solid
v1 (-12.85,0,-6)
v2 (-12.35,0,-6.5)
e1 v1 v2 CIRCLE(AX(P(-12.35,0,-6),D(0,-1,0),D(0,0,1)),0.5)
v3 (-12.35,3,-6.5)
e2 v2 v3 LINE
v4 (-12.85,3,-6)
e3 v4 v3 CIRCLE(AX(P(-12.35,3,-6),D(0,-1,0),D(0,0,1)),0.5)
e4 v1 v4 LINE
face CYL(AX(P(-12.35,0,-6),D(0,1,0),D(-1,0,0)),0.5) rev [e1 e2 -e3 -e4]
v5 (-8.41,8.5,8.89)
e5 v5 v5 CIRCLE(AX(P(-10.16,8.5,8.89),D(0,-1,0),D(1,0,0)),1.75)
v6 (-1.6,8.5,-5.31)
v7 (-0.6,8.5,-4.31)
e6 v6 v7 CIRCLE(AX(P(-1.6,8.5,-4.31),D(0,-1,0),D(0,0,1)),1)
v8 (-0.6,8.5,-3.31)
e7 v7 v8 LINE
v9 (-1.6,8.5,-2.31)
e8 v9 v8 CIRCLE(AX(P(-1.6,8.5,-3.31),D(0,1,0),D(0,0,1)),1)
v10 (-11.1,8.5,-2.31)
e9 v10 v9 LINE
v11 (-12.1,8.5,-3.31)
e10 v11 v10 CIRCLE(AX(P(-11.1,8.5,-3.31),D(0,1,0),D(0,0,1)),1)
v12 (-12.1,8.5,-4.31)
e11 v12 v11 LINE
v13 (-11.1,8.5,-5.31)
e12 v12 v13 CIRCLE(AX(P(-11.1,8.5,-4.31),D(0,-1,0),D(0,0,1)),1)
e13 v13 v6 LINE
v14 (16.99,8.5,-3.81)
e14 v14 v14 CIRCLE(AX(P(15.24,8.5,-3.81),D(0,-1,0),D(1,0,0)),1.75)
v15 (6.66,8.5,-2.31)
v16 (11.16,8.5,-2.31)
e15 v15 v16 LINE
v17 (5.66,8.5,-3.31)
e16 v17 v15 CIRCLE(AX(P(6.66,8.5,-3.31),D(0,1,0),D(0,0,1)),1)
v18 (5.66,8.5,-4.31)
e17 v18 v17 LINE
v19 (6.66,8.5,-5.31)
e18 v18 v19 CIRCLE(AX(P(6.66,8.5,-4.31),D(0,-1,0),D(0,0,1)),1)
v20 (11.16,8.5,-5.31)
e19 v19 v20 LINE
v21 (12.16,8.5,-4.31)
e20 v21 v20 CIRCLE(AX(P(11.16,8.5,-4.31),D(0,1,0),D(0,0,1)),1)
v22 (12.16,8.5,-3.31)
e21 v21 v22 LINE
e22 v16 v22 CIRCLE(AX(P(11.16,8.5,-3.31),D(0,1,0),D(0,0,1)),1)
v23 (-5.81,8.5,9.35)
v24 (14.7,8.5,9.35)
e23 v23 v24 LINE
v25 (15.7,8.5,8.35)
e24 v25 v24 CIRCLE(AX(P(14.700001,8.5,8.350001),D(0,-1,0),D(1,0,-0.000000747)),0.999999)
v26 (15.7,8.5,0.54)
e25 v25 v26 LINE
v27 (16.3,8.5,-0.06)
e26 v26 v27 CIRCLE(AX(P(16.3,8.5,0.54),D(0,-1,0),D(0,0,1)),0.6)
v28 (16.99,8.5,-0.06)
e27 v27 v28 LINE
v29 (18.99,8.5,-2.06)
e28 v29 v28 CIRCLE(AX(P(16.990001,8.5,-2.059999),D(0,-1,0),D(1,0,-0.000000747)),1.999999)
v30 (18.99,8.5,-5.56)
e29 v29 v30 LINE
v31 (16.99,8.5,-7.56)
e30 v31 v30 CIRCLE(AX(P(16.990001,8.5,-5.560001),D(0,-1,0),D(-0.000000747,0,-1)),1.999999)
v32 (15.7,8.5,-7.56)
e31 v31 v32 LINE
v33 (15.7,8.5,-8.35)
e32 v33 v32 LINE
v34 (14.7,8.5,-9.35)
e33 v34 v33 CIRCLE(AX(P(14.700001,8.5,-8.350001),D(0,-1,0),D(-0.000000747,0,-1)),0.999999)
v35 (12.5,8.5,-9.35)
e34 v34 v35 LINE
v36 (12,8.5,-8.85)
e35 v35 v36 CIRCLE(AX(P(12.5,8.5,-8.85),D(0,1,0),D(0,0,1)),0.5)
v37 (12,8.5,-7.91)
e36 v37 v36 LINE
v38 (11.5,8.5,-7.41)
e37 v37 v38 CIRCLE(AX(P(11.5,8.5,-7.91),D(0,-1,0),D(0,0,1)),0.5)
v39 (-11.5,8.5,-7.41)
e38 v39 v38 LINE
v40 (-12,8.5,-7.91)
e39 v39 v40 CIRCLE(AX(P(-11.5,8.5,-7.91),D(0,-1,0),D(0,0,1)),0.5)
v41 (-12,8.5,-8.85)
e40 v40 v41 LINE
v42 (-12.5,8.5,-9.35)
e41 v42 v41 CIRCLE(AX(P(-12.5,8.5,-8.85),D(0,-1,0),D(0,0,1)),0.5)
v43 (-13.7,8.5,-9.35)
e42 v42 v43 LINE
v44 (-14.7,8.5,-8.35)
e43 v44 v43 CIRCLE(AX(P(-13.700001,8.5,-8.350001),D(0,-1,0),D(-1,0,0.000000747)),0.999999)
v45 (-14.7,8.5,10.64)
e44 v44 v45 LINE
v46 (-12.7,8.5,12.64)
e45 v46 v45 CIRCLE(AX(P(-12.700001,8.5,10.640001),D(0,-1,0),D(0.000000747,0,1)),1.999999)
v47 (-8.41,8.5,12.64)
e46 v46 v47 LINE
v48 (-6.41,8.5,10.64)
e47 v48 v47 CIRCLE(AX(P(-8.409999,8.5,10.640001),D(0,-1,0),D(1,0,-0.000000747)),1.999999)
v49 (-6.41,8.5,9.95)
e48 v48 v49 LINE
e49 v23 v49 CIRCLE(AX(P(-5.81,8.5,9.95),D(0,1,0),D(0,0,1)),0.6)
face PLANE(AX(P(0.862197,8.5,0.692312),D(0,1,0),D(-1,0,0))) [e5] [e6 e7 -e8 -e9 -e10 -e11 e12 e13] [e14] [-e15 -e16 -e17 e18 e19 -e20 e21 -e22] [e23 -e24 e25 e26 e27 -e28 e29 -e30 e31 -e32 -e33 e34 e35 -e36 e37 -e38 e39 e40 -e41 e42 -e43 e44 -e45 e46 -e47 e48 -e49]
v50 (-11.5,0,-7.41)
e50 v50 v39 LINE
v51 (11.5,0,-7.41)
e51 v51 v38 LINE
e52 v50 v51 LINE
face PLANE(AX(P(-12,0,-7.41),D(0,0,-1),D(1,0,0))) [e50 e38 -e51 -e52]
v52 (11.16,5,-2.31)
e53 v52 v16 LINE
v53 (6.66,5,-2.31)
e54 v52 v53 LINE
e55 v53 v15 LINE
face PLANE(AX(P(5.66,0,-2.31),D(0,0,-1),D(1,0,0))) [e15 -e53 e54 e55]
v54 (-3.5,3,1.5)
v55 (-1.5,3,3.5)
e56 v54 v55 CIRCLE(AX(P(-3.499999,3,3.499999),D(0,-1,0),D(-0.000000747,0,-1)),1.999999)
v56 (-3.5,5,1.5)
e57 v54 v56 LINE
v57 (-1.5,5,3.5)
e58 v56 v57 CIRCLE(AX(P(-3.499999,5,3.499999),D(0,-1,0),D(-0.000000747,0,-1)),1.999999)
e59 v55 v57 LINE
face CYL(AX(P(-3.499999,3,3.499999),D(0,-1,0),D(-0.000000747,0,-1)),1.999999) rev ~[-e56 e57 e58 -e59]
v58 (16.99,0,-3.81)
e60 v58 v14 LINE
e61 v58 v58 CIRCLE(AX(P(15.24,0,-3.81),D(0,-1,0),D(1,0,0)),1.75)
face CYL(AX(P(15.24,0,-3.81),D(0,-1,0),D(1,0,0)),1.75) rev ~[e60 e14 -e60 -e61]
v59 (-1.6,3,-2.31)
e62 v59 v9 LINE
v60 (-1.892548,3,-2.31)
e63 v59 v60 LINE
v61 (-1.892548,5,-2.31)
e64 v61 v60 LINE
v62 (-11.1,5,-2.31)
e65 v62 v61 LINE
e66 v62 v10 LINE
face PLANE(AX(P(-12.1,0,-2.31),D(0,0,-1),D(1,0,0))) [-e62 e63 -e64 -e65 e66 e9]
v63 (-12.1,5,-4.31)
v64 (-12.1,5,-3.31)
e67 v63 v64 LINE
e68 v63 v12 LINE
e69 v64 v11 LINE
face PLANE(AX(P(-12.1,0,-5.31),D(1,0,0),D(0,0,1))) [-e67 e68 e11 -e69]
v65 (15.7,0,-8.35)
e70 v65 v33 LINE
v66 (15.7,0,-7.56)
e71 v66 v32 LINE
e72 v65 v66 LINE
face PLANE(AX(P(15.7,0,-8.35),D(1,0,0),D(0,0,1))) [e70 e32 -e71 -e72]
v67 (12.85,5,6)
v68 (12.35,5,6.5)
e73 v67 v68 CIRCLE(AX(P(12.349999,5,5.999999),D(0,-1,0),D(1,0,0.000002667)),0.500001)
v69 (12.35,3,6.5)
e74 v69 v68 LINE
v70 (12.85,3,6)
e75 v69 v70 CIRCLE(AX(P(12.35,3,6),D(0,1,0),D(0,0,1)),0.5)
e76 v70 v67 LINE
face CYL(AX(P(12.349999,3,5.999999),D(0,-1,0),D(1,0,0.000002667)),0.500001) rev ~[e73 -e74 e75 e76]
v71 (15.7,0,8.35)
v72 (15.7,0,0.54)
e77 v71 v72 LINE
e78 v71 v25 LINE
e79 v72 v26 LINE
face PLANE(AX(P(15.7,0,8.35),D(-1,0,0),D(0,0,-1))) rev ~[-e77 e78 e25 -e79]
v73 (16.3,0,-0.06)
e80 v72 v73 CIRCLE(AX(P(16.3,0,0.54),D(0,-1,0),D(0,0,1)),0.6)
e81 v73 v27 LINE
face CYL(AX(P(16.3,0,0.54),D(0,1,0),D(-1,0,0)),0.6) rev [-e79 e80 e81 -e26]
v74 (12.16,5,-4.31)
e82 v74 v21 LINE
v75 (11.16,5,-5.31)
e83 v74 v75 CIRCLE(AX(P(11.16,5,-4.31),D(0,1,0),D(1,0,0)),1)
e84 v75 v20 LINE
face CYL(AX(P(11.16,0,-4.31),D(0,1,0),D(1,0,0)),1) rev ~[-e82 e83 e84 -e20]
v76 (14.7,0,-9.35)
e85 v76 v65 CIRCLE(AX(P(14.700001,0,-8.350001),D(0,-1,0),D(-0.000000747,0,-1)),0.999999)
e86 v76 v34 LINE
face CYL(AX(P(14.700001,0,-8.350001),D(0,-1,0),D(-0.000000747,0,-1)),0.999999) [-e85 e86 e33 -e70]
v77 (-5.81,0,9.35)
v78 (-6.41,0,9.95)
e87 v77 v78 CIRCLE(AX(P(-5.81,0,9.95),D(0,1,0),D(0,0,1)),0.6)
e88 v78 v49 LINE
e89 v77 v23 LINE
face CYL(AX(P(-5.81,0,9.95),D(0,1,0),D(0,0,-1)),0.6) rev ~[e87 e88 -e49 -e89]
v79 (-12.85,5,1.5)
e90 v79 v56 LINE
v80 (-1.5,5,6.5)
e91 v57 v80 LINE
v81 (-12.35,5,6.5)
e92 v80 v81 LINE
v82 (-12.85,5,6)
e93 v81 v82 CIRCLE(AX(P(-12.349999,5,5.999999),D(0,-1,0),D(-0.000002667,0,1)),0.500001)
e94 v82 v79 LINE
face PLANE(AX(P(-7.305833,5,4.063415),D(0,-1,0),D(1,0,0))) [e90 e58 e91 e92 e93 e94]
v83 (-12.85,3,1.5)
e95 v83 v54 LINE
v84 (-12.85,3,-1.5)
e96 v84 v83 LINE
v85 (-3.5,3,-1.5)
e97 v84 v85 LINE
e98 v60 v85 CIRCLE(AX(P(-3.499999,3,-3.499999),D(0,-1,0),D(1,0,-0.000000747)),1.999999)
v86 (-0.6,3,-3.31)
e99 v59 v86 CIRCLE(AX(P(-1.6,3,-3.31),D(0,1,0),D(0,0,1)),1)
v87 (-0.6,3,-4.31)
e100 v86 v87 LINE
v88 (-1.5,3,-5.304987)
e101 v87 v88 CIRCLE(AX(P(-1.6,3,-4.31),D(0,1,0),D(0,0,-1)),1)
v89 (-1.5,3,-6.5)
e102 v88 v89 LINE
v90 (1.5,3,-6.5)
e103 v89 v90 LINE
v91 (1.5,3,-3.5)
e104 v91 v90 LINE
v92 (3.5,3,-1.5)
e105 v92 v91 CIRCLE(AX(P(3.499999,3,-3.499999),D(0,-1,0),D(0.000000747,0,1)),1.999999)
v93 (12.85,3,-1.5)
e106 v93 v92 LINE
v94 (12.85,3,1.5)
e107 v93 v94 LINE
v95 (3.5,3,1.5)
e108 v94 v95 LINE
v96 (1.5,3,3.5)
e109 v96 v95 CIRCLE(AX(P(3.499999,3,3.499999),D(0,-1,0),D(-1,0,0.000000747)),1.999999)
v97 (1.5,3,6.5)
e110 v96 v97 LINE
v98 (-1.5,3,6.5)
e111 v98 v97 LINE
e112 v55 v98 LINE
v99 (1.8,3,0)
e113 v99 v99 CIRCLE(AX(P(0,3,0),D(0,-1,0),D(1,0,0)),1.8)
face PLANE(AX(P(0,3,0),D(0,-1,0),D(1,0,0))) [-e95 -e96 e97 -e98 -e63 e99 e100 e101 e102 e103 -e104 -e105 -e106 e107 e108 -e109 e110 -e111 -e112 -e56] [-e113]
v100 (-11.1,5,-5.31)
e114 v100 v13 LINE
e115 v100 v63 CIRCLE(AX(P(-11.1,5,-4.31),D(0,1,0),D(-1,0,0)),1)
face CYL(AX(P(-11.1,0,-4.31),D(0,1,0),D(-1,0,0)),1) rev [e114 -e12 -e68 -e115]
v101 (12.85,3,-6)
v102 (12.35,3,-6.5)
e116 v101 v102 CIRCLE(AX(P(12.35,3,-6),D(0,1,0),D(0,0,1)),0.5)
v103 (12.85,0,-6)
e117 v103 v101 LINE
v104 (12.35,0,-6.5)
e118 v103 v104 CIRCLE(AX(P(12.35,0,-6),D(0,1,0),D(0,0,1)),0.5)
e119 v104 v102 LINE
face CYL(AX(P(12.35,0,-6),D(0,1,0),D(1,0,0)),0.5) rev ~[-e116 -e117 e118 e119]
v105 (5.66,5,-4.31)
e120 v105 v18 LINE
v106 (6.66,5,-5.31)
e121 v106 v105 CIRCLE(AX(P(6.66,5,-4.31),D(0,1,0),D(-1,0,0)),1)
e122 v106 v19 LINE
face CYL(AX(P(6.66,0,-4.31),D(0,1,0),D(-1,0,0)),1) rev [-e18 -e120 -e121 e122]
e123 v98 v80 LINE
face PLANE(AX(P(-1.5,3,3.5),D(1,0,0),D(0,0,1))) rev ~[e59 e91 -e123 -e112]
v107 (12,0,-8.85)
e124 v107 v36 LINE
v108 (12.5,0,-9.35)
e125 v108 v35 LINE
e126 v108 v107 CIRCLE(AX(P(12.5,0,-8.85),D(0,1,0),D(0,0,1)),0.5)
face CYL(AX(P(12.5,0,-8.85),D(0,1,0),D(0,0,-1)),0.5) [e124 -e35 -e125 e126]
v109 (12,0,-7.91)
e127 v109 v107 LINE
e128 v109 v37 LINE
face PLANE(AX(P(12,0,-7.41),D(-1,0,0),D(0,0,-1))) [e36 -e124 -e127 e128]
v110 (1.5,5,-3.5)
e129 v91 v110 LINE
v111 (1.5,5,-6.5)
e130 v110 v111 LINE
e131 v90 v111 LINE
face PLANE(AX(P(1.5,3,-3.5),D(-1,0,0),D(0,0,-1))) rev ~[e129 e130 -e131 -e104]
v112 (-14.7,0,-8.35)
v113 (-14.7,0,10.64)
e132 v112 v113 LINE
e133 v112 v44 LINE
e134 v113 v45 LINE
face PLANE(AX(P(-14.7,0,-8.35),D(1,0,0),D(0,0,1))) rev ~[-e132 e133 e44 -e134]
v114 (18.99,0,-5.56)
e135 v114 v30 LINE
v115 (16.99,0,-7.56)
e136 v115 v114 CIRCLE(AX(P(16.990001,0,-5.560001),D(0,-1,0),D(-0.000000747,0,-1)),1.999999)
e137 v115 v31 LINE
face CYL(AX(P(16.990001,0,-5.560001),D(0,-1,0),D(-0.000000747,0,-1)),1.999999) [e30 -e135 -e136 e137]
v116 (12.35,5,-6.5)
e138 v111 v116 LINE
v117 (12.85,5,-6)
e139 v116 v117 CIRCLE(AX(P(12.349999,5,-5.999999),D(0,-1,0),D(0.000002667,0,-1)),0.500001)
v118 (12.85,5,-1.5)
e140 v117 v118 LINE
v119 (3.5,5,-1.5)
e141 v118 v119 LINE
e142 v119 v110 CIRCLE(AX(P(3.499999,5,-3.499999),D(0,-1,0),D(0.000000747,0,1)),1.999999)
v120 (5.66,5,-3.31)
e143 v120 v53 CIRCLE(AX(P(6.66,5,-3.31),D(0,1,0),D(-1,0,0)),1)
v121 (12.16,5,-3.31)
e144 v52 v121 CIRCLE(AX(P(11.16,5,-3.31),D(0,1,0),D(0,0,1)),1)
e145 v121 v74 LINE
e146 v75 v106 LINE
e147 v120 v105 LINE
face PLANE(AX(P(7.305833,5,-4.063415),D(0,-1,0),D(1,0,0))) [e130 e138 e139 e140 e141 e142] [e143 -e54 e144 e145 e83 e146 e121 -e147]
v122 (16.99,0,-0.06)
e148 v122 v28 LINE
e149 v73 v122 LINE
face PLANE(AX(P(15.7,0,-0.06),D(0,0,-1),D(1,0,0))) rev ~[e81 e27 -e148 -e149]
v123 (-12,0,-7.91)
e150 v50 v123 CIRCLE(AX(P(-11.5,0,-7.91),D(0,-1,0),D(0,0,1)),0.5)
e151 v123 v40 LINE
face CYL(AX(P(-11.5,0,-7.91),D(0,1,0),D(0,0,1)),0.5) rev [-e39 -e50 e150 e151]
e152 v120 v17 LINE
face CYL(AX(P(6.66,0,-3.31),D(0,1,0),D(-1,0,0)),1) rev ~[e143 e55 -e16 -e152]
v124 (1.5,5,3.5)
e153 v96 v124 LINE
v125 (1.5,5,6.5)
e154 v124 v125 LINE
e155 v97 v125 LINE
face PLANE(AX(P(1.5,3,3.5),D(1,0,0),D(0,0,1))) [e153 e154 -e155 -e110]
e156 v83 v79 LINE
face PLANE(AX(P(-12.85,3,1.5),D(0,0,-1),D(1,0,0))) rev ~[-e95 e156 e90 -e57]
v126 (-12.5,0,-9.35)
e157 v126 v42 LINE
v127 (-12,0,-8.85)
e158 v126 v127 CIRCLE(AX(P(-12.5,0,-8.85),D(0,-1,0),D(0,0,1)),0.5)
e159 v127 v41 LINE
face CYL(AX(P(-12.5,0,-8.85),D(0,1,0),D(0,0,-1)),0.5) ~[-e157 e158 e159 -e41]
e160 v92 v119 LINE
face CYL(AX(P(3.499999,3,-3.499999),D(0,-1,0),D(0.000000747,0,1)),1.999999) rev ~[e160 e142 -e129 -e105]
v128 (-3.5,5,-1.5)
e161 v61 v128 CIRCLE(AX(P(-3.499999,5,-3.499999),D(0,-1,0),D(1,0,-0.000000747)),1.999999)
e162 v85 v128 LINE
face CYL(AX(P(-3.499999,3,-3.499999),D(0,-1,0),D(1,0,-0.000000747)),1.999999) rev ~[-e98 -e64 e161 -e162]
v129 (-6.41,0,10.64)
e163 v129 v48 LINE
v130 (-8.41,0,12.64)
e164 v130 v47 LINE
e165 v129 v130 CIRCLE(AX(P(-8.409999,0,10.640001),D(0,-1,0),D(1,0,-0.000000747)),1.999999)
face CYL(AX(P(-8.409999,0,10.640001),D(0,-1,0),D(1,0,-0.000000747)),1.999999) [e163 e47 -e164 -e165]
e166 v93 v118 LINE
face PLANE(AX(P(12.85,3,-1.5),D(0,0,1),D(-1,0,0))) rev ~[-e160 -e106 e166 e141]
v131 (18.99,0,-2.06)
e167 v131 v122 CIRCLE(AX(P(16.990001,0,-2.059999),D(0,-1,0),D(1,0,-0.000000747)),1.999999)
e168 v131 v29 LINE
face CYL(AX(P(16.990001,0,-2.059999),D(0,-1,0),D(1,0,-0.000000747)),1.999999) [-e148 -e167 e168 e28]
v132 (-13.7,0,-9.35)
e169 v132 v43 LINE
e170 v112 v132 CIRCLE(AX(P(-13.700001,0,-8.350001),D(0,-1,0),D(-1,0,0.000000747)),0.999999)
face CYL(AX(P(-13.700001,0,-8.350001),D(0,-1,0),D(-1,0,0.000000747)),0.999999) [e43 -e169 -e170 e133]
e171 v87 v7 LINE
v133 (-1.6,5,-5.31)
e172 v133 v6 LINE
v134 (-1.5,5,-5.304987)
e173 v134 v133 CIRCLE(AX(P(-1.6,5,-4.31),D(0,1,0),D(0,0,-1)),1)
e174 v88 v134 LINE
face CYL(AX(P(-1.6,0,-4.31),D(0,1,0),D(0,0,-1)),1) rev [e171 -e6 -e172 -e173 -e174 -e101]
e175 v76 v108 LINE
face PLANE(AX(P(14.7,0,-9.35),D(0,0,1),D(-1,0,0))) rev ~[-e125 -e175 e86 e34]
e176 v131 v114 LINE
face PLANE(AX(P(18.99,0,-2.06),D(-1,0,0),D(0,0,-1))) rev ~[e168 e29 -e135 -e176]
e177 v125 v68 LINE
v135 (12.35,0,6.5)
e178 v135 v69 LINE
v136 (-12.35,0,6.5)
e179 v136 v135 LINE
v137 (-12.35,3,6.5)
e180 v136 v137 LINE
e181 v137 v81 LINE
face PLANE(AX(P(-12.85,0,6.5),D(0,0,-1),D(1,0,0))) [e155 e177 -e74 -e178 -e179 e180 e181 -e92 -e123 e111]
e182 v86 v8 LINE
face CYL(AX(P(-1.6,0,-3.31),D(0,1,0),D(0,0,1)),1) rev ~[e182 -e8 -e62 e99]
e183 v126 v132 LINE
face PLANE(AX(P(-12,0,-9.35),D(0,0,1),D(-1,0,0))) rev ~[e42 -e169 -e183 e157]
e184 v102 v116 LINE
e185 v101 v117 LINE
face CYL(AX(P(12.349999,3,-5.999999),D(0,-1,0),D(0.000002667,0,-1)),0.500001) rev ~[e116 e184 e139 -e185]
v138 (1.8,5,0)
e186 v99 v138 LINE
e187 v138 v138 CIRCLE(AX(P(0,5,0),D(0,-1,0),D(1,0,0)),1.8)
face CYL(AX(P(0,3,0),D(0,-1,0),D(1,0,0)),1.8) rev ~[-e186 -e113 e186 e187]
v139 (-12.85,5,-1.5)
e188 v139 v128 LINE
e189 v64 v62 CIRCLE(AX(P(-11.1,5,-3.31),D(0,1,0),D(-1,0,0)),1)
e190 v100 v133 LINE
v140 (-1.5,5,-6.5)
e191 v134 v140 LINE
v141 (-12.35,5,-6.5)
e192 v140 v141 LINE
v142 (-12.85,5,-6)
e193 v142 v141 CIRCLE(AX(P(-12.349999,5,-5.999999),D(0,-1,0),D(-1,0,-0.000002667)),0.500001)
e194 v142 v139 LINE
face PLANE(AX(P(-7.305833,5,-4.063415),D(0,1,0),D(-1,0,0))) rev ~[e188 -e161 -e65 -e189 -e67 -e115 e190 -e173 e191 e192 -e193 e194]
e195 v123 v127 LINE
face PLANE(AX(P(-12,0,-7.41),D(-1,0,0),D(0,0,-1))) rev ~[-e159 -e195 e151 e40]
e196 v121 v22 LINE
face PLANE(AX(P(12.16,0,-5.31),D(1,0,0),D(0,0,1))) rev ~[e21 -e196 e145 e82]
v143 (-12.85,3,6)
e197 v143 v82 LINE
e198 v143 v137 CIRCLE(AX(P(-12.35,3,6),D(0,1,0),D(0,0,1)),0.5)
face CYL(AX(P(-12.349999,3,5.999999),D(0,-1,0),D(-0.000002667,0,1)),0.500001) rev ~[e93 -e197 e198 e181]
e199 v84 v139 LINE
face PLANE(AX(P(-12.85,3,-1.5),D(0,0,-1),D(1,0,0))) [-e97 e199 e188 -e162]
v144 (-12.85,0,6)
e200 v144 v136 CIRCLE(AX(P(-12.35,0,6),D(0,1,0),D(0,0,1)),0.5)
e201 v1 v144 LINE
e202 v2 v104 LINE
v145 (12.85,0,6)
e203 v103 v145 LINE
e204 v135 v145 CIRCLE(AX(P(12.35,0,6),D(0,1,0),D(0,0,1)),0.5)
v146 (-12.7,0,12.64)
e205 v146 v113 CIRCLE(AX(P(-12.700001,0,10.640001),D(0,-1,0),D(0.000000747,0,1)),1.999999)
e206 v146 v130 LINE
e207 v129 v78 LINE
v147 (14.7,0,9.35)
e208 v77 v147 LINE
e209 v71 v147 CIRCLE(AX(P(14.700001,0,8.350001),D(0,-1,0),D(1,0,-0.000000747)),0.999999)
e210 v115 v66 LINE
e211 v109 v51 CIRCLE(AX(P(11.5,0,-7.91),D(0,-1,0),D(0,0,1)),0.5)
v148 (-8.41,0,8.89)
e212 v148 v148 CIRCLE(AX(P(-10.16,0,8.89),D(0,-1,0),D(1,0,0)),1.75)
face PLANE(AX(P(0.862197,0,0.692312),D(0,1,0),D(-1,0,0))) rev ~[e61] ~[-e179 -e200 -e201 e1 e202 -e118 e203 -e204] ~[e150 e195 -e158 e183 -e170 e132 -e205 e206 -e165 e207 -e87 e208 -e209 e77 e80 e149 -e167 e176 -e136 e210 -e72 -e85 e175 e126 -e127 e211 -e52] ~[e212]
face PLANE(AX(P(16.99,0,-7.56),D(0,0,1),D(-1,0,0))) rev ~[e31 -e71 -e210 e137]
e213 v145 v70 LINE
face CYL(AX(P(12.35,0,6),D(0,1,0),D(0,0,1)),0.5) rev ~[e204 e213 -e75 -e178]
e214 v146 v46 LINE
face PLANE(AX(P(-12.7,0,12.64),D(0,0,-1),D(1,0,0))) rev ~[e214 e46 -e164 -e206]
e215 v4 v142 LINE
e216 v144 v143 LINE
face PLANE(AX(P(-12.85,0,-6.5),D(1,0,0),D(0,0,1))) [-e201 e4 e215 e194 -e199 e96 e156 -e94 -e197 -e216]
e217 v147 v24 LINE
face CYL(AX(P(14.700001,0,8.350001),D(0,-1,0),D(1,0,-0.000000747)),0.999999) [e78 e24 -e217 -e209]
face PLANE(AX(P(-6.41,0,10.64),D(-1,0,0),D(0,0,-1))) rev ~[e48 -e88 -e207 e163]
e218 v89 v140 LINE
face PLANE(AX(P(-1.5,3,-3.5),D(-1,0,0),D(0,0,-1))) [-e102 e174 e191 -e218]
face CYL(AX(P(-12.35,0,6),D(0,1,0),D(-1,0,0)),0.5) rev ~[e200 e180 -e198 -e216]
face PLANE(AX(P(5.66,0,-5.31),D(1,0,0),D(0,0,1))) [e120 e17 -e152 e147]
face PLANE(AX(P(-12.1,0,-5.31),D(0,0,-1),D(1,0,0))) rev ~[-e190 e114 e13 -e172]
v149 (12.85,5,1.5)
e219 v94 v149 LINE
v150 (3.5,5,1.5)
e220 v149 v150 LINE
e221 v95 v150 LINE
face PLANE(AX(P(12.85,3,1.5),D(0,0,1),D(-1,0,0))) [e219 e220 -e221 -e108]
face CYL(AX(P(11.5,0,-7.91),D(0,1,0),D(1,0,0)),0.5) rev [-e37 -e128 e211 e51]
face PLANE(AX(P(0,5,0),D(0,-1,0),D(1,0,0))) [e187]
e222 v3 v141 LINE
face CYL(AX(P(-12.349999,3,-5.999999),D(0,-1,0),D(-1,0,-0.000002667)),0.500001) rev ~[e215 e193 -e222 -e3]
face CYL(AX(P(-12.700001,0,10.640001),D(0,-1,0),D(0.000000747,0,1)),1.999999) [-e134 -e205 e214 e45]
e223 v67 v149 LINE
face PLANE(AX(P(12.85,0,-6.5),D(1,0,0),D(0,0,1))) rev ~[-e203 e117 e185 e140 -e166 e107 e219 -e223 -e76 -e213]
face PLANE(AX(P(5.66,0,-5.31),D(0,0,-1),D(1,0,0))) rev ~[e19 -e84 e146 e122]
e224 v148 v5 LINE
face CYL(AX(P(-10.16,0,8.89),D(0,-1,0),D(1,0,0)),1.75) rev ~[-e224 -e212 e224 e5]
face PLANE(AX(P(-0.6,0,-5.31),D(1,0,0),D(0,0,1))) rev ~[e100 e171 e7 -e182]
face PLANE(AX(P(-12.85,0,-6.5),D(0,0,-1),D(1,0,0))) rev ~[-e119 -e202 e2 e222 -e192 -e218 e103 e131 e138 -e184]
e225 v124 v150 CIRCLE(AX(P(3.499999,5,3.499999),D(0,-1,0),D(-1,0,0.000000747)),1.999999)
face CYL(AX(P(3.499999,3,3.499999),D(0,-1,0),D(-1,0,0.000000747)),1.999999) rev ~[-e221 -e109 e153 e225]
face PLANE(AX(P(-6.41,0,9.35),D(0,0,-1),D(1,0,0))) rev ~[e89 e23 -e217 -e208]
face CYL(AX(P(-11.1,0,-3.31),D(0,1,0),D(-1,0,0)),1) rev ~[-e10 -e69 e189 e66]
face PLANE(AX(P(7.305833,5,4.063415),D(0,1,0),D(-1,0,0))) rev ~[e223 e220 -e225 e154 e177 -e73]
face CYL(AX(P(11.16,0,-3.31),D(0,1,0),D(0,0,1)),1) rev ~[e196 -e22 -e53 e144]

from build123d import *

# Parameters (mm, degrees)
SKETCH004_R     = 1.75
SKETCH004_W     = 11.5
SKETCH004_H     = 3
SKETCH004_W_2   = 6.5
PAD_DEPTH       = 8.5
FILLET_R        = 1
FILLET001_R     = 0.6
FILLET002_R     = 0.5
SKETCH_W        = 25.7
SKETCH_H        = 13
POCKET_DEPTH    = 3
FILLET003_R     = 0.5
SKETCH005_R     = 1.8
POCKET001_DEPTH = 2


with BuildPart() as part:
    # Sketch004 → Pad (new body)
    with BuildSketch(Plane.XZ):
        with BuildLine():
            Line((15.7, 8.35), (15.7, -0.06))
            Line((15.7, -0.06), (16.99, -0.06))
            ThreePointArc((18.99, -2.06), (18.404214, -0.645786), (16.99, -0.06))
            Line((18.99, -2.06), (18.99, -5.56))
            ThreePointArc((16.99, -7.56), (18.404214, -6.974214), (18.99, -5.56))
            Line((16.99, -7.56), (15.7, -7.56))
            Line((15.7, -8.35), (15.7, -7.56))
            ThreePointArc((14.7, -9.35), (15.407107, -9.057107), (15.7, -8.35))
            Line((14.7, -9.35), (12, -9.35))
            Line((12, -7.41), (12, -9.35))
            Line((-12, -7.41), (12, -7.41))
            Line((-12, -7.41), (-12, -9.35))
            Line((-12, -9.35), (-13.7, -9.35))
            ThreePointArc((-14.7, -8.35), (-14.407107, -9.057107), (-13.7, -9.35))
            Line((-14.7, -8.35), (-14.7, 10.64))
            ThreePointArc((-12.7, 12.64), (-14.114214, 12.054214), (-14.7, 10.64))
            Line((-12.7, 12.64), (-8.41, 12.64))
            ThreePointArc((-6.41, 10.64), (-6.995786, 12.054214), (-8.41, 12.64))
            Line((-6.41, 10.64), (-6.41, 9.35))
            Line((-6.41, 9.35), (14.7, 9.35))
            ThreePointArc((15.7, 8.35), (15.407107, 9.057107), (14.7, 9.35))
        make_face()
        with Locations((-10.16, 8.89)):
            Circle(SKETCH004_R, mode=Mode.SUBTRACT)
        with Locations((15.24, -3.81)):
            Circle(SKETCH004_R, mode=Mode.SUBTRACT)
        with Locations((-6.35, -3.81)):
            Rectangle(SKETCH004_W, SKETCH004_H, mode=Mode.SUBTRACT)
        with Locations((8.91, -3.81)):
            Rectangle(SKETCH004_W_2, SKETCH004_H, mode=Mode.SUBTRACT)
    extrude(amount=-PAD_DEPTH)

    # Fillet
    fillet_edges = [part.edges().sort_by_distance(p)[0] for p in [
        (12.16, 4.25, -5.31),
        (5.66, 4.25, -2.31),
        (12.16, 4.25, -2.31),
        (5.66, 4.25, -5.31),
        (-0.6, 4.25, -2.31),
        (-12.1, 4.25, -2.31),
        (-0.6, 4.25, -5.31),
        (-12.1, 4.25, -5.31),
    ]]
    fillet(fillet_edges, radius=FILLET_R)

    # Fillet001
    fillet001_edges = [part.edges().sort_by_distance(p)[0] for p in [
        (-6.41, 4.25, 9.35),
        (15.7, 4.25, -0.06),
    ]]
    fillet(fillet001_edges, radius=FILLET001_R)

    # Fillet002
    fillet002_edges = [part.edges().sort_by_distance(p)[0] for p in [
        (12, 4.25, -9.35),
        (-12, 4.25, -9.35),
        (-12, 4.25, -7.41),
        (12, 4.25, -7.41),
    ]]
    fillet(fillet002_edges, radius=FILLET002_R)

    # Sketch (on Face1 of Fillet002) → Pocket (cut)
    with BuildSketch(Plane.XZ):
        Rectangle(SKETCH_W, SKETCH_H)
    extrude(amount=-POCKET_DEPTH, mode=Mode.SUBTRACT)

    # Fillet003
    fillet003_edges = [part.edges().sort_by_distance(p)[0] for p in [
        (-12.85, 1.5, 6.5),
        (12.85, 1.5, 6.5),
        (-12.85, 1.5, -6.5),
        (12.85, 1.5, -6.5),
    ]]
    fillet(fillet003_edges, radius=FILLET003_R)

    # Sketch005 (on Face39 of Fillet003) → Pocket001 (cut)
    with BuildSketch(Plane.XZ.offset(-3)):
        Circle(SKETCH005_R)
        with BuildLine():
            Line((-12.85, 1.5), (-3.5, 1.5))
            ThreePointArc((-3.5, 1.5), (-2.085786, 2.085786), (-1.5, 3.5))
            Line((-1.5, 3.5), (-1.5, 6.5))
            Line((-1.5, 6.5), (-12.35, 6.5))
            ThreePointArc((-12.35, 6.5), (-12.703553, 6.353553), (-12.85, 6))
            Line((-12.85, 6), (-12.85, 1.5))
        make_face()
        with BuildLine():
            Line((1.5, 6.5), (12.35, 6.5))
            ThreePointArc((12.85, 6), (12.703553, 6.353553), (12.35, 6.5))
            Line((12.85, 6), (12.85, 1.5))
            Line((12.85, 1.5), (3.5, 1.5))
            ThreePointArc((1.5, 3.5), (2.085786, 2.085786), (3.5, 1.5))
            Line((1.5, 3.5), (1.5, 6.5))
        make_face()
        with BuildLine():
            Line((12.85, -1.5), (3.5, -1.5))
            ThreePointArc((3.5, -1.5), (2.085786, -2.085786), (1.5, -3.5))
            Line((1.5, -3.5), (1.5, -6.5))
            Line((1.5, -6.5), (12.35, -6.5))
            ThreePointArc((12.35, -6.5), (12.703553, -6.353553), (12.85, -6))
            Line((12.85, -6), (12.85, -1.5))
        make_face()
        with BuildLine():
            Line((-12.85, -1.5), (-3.5, -1.5))
            ThreePointArc((-1.5, -3.5), (-2.085786, -2.085786), (-3.5, -1.5))
            Line((-1.5, -3.5), (-1.5, -6.5))
            Line((-1.5, -6.5), (-12.35, -6.5))
            ThreePointArc((-12.85, -6), (-12.703553, -6.353553), (-12.35, -6.5))
            Line((-12.85, -6), (-12.85, -1.5))
        make_face()
    extrude(amount=-POCKET001_DEPTH, mode=Mode.SUBTRACT)


solid = part.part
